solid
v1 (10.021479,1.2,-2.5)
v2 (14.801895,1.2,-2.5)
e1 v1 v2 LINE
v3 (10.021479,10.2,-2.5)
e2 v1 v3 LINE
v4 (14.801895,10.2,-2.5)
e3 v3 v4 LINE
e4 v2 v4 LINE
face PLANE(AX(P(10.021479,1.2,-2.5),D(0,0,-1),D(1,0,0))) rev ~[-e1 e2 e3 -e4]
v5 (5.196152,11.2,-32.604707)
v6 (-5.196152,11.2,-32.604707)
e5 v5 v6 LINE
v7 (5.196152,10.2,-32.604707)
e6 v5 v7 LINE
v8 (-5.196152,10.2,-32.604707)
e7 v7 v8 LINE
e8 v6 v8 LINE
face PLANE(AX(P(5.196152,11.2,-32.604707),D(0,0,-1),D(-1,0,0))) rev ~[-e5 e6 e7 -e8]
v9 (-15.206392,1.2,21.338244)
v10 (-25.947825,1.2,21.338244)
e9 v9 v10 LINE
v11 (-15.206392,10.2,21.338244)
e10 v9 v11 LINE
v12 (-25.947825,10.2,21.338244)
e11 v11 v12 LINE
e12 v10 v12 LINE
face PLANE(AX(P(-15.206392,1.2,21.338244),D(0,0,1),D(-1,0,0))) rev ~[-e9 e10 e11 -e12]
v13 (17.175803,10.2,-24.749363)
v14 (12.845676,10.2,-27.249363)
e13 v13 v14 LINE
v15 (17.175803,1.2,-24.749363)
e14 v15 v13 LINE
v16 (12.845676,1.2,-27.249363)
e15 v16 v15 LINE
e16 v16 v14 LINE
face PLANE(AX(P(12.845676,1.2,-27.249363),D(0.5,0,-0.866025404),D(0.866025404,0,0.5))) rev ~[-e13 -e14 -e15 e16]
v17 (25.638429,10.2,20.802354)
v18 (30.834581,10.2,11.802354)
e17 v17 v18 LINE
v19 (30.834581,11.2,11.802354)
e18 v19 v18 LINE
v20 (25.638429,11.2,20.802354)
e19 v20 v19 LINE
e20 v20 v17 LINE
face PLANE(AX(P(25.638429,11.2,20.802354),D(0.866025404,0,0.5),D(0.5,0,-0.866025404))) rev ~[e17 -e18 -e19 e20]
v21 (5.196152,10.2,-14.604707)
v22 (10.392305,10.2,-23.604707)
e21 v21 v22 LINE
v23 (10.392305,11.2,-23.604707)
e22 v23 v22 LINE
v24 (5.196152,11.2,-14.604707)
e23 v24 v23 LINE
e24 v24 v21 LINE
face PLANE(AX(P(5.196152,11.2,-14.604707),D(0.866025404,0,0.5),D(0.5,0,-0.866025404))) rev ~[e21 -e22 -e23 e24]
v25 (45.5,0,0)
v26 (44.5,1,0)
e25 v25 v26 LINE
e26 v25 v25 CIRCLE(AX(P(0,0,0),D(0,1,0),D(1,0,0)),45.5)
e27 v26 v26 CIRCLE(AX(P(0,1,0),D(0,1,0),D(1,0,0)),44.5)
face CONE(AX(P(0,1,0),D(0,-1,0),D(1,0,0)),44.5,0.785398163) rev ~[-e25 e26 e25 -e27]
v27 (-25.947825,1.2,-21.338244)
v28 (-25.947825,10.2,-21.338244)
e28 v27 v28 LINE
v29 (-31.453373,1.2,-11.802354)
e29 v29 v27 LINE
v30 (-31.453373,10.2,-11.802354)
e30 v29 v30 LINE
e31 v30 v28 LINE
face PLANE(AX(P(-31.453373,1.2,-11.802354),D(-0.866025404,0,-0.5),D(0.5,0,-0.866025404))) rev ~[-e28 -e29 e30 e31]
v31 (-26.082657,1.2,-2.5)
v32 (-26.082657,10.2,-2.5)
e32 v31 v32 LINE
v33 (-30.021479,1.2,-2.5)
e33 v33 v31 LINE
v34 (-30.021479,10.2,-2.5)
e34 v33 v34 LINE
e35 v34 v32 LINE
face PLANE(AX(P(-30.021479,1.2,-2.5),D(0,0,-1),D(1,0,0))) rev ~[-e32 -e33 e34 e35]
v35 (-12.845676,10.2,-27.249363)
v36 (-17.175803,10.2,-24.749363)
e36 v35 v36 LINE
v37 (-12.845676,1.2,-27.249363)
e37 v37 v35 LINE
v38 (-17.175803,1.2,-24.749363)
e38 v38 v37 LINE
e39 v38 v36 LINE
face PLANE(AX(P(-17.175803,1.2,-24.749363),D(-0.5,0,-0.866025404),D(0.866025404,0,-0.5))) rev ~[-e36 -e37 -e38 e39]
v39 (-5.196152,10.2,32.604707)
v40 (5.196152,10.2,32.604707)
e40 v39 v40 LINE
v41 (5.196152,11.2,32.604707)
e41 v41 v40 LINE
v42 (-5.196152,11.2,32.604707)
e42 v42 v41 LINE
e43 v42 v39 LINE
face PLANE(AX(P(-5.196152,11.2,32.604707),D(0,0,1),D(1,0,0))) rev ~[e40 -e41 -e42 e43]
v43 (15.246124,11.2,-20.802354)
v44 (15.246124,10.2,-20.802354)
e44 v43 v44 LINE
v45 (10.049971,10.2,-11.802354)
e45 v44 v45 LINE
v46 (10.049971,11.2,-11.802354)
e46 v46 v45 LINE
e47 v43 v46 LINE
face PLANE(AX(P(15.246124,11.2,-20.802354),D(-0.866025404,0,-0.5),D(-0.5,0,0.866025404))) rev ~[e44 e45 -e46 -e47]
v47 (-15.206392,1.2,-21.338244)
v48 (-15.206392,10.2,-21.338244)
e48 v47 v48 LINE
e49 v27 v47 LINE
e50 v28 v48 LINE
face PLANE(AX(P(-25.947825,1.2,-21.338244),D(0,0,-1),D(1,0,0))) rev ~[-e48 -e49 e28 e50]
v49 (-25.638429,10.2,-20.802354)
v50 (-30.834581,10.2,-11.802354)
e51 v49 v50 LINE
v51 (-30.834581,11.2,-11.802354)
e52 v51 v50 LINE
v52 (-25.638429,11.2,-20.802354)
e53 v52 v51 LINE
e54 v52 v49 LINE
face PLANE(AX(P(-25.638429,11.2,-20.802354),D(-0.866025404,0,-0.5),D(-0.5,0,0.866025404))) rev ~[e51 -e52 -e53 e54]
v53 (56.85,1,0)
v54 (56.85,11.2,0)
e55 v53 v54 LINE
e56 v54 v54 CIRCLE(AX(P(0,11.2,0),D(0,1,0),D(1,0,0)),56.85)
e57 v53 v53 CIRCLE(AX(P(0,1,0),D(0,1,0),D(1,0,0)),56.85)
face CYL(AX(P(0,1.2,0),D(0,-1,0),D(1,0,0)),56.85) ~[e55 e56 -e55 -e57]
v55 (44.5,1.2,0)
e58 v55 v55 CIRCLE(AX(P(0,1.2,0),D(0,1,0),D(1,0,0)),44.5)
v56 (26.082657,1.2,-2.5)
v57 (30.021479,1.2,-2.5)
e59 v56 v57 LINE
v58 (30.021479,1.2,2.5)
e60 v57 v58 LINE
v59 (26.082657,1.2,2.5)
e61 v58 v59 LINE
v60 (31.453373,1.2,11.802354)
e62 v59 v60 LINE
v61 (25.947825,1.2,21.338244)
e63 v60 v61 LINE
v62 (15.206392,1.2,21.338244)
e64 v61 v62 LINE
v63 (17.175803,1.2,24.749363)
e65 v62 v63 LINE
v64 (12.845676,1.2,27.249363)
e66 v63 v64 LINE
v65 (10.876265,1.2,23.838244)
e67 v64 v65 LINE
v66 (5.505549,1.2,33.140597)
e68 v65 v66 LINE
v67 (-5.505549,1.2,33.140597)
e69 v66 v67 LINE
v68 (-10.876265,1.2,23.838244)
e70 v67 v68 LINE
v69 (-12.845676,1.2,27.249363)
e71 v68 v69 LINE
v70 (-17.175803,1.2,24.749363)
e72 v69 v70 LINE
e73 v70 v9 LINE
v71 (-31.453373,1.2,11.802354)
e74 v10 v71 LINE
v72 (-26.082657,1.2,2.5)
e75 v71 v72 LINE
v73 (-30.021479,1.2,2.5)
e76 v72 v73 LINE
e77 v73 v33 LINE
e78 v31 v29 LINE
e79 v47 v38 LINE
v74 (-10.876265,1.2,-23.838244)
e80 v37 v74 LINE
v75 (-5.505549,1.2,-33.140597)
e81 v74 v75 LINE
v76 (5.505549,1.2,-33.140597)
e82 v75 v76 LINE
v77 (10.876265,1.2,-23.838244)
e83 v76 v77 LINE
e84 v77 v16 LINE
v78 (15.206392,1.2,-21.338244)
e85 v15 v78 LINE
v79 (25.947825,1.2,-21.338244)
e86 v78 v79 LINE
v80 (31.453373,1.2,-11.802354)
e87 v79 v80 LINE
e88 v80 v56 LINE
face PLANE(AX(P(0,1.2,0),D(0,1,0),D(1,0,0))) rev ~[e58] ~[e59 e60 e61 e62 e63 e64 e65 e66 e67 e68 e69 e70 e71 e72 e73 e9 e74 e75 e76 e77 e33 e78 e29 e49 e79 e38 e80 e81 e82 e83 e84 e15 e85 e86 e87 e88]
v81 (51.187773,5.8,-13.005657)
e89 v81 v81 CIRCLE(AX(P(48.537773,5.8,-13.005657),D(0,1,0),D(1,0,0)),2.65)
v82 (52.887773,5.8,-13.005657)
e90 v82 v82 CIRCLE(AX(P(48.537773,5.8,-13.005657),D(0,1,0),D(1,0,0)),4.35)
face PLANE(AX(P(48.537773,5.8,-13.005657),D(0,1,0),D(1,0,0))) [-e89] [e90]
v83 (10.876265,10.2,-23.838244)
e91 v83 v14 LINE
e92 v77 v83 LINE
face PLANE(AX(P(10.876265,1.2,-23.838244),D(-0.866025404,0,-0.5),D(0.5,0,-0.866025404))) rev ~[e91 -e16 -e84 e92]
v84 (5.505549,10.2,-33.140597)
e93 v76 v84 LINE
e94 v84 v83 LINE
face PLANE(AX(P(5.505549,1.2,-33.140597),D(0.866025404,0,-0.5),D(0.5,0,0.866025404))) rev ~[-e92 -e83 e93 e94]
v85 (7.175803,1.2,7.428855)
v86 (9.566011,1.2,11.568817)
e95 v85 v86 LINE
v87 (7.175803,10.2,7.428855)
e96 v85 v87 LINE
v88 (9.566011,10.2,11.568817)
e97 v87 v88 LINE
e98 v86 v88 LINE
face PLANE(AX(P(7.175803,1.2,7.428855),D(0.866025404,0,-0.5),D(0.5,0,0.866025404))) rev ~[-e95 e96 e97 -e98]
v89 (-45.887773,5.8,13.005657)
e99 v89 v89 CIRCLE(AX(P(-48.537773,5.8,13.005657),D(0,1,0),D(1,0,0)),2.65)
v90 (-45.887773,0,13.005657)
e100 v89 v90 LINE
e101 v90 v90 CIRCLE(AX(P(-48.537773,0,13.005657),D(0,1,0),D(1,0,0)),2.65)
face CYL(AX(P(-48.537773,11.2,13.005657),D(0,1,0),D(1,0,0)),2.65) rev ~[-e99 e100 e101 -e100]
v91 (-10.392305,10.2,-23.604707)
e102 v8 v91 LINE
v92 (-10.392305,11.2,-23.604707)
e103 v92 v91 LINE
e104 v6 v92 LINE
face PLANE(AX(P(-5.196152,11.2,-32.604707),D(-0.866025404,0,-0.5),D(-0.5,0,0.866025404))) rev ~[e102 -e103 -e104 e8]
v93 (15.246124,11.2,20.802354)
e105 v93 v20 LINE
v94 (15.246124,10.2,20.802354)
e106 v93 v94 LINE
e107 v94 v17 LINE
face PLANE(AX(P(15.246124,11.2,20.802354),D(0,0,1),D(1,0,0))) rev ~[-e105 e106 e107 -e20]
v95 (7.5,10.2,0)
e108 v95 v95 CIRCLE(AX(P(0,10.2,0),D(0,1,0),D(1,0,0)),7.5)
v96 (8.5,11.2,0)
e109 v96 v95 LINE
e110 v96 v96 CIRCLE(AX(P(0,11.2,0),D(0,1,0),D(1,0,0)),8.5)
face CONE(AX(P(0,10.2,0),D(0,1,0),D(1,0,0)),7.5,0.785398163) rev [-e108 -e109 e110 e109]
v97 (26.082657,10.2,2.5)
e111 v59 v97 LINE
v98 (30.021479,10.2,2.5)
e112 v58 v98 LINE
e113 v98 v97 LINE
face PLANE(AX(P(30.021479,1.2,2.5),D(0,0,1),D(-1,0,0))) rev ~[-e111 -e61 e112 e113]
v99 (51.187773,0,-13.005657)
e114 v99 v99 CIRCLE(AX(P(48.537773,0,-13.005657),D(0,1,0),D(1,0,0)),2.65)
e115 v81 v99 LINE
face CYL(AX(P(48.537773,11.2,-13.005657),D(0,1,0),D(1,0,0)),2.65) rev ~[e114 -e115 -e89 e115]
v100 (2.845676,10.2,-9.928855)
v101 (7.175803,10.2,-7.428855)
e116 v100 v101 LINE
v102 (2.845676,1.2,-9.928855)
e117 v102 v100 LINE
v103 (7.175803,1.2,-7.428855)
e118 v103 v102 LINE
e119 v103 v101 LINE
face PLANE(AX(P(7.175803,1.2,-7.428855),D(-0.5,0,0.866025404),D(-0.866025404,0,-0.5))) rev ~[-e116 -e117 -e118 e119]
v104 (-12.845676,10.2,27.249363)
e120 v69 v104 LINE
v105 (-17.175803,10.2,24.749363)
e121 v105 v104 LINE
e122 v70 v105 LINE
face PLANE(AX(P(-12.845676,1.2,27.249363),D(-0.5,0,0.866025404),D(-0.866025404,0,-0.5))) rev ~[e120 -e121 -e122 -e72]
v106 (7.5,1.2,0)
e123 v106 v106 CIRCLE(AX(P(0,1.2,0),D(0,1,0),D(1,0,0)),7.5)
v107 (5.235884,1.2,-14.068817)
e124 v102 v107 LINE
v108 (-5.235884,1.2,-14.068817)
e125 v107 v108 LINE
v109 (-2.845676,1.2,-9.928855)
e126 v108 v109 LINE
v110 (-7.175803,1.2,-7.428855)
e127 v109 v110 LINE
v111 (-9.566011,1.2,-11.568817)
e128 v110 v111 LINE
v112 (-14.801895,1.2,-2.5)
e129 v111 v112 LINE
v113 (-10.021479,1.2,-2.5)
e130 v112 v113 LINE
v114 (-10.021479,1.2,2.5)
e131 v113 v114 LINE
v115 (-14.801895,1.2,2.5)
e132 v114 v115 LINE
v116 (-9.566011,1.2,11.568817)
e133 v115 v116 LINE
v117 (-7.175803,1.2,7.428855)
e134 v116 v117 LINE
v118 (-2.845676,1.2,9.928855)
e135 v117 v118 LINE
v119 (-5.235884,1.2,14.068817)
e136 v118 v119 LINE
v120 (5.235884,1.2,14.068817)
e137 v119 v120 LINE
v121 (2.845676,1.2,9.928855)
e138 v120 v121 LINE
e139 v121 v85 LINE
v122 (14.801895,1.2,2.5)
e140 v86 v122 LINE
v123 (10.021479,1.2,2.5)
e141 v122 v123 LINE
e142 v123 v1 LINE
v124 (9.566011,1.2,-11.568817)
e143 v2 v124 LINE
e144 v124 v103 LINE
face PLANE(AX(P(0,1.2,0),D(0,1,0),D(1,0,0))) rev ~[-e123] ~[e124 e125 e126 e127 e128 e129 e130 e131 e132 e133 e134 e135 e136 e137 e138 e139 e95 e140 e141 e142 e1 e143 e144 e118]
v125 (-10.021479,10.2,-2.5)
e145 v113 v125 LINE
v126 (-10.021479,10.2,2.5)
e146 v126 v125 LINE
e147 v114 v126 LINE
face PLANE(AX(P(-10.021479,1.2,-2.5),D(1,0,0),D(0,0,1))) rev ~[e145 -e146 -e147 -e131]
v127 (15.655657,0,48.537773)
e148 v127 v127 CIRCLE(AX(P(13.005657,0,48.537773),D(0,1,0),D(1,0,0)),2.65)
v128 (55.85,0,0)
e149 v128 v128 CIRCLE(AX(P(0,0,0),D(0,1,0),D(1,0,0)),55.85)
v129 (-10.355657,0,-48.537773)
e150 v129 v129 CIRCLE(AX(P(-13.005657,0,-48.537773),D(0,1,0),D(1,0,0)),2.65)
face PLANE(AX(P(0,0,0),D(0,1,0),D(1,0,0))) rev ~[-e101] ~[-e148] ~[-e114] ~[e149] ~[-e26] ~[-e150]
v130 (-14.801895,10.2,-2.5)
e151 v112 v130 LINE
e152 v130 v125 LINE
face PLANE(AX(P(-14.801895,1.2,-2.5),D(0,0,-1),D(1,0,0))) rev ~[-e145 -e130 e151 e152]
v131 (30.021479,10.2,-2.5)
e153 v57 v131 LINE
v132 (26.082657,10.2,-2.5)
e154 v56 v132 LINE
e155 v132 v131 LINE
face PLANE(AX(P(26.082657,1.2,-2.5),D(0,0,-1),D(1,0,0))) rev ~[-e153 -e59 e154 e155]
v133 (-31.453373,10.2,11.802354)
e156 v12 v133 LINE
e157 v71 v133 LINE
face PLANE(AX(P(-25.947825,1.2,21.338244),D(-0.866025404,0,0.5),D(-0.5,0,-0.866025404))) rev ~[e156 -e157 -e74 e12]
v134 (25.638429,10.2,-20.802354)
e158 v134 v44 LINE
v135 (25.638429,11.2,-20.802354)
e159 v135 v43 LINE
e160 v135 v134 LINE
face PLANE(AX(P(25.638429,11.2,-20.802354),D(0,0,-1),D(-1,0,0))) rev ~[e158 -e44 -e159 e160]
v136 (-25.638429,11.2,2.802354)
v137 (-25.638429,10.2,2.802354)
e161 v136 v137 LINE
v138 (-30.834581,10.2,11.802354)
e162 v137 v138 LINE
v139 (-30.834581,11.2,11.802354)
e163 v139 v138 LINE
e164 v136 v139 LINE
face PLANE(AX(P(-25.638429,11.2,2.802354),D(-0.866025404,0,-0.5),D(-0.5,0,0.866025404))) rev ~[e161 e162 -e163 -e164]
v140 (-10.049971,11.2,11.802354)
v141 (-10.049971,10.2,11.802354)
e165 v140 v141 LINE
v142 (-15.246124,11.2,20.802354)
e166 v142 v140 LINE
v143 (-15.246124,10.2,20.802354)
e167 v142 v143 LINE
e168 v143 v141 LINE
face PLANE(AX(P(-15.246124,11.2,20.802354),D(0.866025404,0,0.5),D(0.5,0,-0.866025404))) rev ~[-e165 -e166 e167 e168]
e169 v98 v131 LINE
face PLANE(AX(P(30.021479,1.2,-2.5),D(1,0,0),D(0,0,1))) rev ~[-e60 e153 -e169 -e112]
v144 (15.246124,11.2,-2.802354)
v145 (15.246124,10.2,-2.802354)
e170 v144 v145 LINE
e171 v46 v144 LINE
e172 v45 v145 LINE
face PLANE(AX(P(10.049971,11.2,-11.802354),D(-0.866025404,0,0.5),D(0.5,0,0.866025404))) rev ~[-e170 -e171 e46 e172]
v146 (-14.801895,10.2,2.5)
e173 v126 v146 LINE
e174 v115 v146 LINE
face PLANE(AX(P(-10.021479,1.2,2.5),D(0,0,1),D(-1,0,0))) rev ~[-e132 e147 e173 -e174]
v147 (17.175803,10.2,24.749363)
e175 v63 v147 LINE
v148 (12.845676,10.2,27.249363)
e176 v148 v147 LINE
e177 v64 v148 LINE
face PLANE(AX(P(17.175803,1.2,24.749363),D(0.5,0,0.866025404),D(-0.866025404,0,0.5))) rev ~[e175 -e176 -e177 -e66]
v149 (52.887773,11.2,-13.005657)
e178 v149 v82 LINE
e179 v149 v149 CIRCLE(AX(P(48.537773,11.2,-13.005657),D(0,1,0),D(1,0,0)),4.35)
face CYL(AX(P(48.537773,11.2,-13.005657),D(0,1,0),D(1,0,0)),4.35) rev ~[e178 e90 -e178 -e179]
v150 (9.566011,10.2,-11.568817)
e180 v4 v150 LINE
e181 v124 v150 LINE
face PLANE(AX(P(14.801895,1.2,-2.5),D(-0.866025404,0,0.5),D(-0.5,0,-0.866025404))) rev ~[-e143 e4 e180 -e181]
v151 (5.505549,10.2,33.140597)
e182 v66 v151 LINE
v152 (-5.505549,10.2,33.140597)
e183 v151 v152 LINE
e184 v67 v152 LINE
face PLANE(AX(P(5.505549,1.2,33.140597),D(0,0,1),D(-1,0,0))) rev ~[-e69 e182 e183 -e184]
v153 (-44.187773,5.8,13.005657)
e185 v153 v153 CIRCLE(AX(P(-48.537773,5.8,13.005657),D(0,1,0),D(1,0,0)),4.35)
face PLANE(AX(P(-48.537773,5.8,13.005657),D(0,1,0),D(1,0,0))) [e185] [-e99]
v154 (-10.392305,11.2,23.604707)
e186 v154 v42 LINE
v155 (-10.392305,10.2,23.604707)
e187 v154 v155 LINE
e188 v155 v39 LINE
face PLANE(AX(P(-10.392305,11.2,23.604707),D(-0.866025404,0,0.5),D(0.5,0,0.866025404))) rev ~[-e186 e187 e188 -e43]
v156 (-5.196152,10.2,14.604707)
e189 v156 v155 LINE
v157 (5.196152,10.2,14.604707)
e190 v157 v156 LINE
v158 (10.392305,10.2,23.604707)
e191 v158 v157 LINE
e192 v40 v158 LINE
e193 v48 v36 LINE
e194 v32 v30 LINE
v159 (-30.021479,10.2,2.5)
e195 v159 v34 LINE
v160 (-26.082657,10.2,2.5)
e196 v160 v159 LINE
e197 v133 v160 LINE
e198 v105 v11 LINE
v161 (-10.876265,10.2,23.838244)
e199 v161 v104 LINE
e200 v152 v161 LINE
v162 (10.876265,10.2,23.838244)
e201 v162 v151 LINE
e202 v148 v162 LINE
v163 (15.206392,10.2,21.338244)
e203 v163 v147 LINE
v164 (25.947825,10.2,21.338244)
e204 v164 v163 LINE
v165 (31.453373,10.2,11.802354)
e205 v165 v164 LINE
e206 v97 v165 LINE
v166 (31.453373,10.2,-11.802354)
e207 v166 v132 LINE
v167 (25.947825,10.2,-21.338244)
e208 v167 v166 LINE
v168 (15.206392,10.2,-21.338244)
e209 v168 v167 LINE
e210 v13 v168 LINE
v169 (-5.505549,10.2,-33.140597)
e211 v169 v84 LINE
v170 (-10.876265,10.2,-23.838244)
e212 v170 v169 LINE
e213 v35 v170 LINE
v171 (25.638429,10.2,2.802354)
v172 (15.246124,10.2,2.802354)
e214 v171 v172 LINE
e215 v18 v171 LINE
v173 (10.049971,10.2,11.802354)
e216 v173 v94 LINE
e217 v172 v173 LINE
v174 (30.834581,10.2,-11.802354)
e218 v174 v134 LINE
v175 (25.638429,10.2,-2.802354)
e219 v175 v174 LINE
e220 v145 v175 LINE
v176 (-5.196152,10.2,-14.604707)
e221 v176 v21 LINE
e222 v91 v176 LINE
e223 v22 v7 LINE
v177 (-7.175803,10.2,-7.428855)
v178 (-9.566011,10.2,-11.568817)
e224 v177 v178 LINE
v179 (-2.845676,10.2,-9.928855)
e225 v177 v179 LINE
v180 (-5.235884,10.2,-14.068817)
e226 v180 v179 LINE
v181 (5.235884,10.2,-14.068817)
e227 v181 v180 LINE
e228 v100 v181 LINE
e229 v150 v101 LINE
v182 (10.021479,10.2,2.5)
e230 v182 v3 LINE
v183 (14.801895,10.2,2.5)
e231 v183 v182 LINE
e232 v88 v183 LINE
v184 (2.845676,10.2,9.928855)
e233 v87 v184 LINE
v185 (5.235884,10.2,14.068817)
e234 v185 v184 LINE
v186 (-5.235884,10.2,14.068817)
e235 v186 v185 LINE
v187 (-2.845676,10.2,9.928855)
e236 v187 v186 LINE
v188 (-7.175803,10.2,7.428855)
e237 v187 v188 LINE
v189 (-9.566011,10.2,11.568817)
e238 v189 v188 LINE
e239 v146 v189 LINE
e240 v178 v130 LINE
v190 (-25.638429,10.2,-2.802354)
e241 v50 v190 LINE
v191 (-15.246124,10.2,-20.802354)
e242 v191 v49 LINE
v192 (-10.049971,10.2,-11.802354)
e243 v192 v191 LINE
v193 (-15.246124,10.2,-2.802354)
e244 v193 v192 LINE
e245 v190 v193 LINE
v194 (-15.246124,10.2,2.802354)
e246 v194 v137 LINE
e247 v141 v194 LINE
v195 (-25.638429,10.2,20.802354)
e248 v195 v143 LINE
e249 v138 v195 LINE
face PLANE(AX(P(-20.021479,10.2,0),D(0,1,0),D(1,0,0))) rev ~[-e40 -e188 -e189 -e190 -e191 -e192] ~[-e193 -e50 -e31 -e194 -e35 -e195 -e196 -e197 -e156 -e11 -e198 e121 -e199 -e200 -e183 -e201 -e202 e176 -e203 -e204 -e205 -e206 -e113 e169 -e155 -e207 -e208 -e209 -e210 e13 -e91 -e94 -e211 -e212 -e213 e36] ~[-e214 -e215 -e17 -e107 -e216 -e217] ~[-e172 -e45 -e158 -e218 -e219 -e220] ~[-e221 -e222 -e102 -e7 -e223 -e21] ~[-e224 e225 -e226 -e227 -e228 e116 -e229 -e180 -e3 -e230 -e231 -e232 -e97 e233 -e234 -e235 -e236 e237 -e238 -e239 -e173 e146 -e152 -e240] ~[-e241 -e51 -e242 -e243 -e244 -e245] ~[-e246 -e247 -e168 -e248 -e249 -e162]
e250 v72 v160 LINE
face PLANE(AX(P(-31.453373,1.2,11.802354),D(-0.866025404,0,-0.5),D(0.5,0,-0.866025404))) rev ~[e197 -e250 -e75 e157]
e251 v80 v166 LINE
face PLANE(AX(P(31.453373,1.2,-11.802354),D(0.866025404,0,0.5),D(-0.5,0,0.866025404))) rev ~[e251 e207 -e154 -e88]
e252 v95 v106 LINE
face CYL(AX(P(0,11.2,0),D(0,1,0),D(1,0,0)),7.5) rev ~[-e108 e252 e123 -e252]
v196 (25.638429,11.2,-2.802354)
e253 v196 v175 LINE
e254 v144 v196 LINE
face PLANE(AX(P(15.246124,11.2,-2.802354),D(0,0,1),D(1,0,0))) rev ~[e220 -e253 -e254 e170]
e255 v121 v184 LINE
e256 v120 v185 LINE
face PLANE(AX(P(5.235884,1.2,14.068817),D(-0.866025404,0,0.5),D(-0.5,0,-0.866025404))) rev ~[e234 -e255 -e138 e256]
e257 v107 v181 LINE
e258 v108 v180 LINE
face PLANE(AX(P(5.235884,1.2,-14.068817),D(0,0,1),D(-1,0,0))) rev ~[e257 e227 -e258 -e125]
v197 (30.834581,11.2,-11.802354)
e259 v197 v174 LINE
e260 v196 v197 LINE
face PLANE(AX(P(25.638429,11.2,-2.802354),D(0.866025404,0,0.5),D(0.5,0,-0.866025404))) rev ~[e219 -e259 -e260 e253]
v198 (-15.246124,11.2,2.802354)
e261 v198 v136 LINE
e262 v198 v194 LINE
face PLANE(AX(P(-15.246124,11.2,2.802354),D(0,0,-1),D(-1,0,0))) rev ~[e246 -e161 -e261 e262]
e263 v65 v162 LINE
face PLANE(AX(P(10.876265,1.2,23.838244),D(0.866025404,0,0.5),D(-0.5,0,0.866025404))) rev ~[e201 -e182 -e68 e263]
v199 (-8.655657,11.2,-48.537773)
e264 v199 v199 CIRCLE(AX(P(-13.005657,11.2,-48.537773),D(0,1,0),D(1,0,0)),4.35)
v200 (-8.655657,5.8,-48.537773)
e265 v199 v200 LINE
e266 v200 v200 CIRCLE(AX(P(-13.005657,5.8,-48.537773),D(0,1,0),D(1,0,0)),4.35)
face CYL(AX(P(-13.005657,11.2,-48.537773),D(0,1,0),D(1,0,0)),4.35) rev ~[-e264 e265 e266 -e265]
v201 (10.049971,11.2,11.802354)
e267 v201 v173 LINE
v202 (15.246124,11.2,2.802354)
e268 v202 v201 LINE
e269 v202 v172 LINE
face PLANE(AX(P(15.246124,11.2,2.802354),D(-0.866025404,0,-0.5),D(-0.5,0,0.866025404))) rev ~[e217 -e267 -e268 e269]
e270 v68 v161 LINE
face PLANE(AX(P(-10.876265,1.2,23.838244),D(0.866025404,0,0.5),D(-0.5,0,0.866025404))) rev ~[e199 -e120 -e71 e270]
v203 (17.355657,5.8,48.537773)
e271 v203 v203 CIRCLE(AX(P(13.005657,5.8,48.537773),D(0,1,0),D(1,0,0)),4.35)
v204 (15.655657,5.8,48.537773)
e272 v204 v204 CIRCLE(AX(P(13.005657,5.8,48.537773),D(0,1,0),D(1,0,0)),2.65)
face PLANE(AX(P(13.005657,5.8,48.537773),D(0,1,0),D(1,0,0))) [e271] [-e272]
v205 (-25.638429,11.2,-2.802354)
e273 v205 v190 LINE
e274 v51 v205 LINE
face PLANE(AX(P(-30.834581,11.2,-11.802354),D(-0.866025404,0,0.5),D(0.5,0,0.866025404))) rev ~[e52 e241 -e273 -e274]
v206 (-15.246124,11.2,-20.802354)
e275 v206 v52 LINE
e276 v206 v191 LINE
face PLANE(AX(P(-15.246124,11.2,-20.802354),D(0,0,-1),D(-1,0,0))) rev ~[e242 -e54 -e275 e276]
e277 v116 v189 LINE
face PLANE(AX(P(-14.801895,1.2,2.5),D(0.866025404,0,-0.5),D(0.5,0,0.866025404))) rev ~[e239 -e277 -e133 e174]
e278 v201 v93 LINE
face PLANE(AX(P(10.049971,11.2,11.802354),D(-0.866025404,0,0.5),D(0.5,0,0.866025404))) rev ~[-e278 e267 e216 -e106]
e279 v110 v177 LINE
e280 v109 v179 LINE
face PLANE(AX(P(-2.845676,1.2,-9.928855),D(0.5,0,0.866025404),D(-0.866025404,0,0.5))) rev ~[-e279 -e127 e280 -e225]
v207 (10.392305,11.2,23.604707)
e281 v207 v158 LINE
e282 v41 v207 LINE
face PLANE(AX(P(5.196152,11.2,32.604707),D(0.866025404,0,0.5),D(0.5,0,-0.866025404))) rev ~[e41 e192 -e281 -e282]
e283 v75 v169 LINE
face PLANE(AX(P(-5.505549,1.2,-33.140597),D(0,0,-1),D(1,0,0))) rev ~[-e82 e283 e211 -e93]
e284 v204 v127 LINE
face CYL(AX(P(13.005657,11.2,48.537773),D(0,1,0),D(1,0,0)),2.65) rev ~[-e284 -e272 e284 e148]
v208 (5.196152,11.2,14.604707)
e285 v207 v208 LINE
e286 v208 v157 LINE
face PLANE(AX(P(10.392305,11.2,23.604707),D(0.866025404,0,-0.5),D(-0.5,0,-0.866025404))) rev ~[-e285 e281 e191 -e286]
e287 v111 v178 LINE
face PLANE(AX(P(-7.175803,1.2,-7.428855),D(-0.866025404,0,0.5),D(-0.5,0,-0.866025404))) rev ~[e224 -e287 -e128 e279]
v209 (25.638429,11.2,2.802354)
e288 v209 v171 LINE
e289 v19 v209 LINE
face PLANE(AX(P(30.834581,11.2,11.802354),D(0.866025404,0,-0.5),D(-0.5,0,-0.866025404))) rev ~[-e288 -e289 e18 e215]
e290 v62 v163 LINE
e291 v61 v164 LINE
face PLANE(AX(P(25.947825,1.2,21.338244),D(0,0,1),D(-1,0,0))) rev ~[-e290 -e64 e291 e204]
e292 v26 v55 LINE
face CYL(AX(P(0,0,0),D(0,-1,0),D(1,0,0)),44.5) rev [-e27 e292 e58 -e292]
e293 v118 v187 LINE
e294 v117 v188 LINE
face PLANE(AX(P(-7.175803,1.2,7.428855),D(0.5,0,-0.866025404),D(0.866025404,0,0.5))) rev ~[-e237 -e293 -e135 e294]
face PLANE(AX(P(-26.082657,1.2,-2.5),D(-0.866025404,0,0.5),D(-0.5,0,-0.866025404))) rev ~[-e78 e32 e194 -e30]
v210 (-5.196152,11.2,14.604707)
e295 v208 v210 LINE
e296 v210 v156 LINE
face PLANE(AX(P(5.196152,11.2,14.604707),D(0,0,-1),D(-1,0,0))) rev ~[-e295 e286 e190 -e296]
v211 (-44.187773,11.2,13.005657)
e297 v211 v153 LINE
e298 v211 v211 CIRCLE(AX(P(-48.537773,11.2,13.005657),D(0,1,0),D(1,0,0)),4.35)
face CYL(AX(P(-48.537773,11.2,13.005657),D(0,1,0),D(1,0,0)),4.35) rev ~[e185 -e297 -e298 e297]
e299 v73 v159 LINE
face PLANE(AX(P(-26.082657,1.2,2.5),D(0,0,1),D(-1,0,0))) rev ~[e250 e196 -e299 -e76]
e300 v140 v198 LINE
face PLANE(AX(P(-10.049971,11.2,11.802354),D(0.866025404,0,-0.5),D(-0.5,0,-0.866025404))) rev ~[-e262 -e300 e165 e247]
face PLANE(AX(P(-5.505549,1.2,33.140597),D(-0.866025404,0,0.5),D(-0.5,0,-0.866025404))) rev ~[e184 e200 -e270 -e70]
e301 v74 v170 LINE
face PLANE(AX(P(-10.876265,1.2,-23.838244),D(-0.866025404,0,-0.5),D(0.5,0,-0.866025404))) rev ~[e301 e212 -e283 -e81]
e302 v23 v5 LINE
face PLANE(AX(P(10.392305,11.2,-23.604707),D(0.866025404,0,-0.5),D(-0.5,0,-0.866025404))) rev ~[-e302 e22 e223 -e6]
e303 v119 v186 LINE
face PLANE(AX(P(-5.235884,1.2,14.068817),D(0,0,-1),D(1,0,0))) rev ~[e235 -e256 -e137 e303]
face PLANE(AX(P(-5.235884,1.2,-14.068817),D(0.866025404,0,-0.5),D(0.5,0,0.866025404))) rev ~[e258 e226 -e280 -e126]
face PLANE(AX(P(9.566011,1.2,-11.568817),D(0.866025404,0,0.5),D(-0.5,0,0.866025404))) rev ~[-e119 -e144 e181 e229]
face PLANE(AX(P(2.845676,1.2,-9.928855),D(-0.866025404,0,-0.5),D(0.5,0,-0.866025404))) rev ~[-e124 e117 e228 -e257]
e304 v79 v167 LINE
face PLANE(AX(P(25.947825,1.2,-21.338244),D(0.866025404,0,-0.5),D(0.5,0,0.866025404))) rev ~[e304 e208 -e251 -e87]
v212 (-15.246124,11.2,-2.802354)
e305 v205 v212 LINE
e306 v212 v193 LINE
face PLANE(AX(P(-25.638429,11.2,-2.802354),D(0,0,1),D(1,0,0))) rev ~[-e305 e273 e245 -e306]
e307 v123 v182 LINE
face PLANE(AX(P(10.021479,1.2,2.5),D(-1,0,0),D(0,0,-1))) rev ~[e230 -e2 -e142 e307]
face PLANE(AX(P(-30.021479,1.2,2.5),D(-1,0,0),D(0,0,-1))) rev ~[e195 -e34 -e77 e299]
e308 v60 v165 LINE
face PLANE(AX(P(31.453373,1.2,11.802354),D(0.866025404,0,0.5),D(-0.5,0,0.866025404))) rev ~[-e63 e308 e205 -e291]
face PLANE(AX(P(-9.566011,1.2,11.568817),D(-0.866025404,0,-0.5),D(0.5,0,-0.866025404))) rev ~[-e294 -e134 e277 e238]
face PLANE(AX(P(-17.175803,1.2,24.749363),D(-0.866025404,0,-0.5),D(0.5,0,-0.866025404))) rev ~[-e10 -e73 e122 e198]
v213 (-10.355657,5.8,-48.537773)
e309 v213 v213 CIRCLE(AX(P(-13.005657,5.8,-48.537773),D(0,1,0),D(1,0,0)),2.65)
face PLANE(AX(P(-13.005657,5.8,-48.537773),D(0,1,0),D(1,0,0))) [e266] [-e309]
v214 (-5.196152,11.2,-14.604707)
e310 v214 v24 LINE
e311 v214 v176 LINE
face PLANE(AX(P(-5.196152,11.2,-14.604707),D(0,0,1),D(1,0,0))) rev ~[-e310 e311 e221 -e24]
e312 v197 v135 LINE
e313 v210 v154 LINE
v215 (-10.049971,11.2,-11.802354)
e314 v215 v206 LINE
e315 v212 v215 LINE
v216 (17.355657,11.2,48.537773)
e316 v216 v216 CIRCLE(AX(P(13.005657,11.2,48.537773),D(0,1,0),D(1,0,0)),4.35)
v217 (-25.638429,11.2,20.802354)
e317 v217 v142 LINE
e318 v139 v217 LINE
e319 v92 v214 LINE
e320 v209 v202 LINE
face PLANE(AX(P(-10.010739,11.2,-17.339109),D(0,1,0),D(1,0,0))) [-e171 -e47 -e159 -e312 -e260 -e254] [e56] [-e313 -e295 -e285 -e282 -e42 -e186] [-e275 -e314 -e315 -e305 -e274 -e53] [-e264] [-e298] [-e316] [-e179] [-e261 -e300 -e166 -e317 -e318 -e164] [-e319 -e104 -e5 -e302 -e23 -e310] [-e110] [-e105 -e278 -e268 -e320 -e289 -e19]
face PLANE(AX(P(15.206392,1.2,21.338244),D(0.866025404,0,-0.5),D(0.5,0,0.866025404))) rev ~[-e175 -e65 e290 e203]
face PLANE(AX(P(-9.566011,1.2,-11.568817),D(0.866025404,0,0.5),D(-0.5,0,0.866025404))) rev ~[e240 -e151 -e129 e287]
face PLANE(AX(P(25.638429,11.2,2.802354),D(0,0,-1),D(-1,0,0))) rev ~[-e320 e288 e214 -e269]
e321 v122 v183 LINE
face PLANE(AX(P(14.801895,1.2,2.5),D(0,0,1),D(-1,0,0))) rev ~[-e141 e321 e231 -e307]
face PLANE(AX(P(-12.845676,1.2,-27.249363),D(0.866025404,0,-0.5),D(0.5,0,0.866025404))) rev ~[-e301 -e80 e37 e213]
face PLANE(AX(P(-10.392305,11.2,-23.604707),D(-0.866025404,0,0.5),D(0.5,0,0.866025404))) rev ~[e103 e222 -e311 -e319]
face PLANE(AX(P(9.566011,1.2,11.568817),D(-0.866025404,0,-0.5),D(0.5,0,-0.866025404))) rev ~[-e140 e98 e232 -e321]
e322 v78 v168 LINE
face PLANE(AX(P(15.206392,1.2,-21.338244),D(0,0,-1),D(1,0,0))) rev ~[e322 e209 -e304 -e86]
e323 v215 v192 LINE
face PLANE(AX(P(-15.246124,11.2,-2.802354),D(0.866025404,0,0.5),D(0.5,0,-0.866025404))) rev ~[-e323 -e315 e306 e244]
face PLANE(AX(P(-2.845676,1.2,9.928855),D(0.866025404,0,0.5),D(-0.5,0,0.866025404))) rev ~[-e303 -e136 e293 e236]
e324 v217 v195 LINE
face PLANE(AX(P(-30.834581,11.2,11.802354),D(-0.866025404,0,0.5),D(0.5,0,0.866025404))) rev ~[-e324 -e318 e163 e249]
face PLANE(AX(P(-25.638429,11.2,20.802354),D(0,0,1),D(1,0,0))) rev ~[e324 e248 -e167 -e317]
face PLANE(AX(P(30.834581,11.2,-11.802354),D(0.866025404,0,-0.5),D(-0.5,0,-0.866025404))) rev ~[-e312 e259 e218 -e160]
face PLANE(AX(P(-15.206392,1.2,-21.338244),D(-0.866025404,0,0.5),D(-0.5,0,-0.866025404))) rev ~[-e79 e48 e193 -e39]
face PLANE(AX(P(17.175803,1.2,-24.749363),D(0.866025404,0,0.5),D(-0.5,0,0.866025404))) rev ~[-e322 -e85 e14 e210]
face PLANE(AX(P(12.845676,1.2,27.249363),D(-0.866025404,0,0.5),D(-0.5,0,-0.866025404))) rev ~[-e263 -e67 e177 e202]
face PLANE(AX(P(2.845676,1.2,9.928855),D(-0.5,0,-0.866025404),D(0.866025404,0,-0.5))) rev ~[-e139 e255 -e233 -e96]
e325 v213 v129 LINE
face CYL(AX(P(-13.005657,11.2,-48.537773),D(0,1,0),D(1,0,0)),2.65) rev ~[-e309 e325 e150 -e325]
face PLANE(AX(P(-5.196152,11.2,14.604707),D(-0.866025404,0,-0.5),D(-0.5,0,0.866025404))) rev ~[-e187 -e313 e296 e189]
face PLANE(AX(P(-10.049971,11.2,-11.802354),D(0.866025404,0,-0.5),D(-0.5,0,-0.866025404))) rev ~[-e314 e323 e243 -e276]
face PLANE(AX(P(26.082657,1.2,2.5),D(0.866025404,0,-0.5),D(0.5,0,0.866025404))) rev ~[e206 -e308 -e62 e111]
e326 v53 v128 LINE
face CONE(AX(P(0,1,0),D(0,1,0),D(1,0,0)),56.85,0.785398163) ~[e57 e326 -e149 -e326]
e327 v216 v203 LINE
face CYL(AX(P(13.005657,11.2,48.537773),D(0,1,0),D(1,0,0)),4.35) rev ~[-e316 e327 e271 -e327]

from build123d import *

# Parameters (mm, degrees)
SKETCH2_R           = 56.85
SKETCH2_R_2         = 44.5
BOSS_EXTRUDE1_DEPTH = 1.2
SKETCH3_R           = 56.85
BOSS_EXTRUDE2_DEPTH = 10
SKETCH4_R           = 2.65
CUT_EXTRUDE1_DEPTH  = 12.2
SKETCH5_R           = 7.5
CUT_EXTRUDE2_DEPTH  = 12.2
CUT_EXTRUDE4_DEPTH  = 11
SKETCH7_W           = 20
SKETCH7_H           = 5
BOSS_EXTRUDE3_DEPTH = 1
BOSS_EXTRUDE4_DEPTH = 1
CIRPATTERN1_COUNT   = 6
SKETCH9_R           = 4.35
CUT_EXTRUDE5_DEPTH  = 5.4
CHAMFER1_SIZE       = 1
CHAMFER2_SIZE       = 1


with BuildPart() as part:
    # Sketch2 → Boss-Extrude1 (new body)
    with BuildSketch(Plane(origin=(0, 0, 0), x_dir=(1, 0, 0), z_dir=(0, 1, 0))):
        Circle(SKETCH2_R)
        Circle(SKETCH2_R_2, mode=Mode.SUBTRACT)
    extrude(amount=BOSS_EXTRUDE1_DEPTH)

    # Sketch3 → Boss-Extrude2 (add)
    with BuildSketch(Plane(origin=(0, 1.2, 0), x_dir=(1, 0, 0), z_dir=(0, 1, 0))):
        Circle(SKETCH3_R)
    extrude(amount=BOSS_EXTRUDE2_DEPTH)

    # Sketch4 → Cut-Extrude1 (cut, through all)
    with BuildSketch(Plane(origin=(0, 11.2, 0), x_dir=(1, 0, 0), z_dir=(0, 1, 0))):
        with Locations((-13.005657016, 48.537772771)):
            Circle(SKETCH4_R)
        with Locations((48.537772771, 13.005657016)):
            Circle(SKETCH4_R)
        with Locations((13.005657016, -48.537772771)):
            Circle(SKETCH4_R)
        with Locations((-48.537772771, -13.005657016)):
            Circle(SKETCH4_R)
    extrude(amount=-CUT_EXTRUDE1_DEPTH, mode=Mode.SUBTRACT)

    # Sketch5 → Cut-Extrude2 (cut, through all)
    with BuildSketch(Plane(origin=(0, 11.2, 0), x_dir=(1, 0, 0), z_dir=(0, 1, 0))):
        Circle(SKETCH5_R)
    extrude(amount=-CUT_EXTRUDE2_DEPTH, mode=Mode.SUBTRACT)

    # Sketch6 → Cut-Extrude4 (cut, through all)
    with BuildSketch(Plane.XZ.offset(-1.2)):
        Polygon((12.845675931, 27.249363369), (10.876265015, 23.838243602), (5.505548638, 33.14059724), (-5.505548638, 33.14059724), (-10.876265015, 23.838243603), (-12.845675931, 27.249363369), (-17.175802949, 24.749363369), (-15.206392034, 21.338243603), (-25.947824787, 21.338243603), (-31.453373426, 11.802353637), (-26.082657049, 2.5), (-30.02147888, 2.5), (-30.02147888, -2.5), (-26.082657049, -2.5), (-31.453373426, -11.802353638), (-25.947824787, -21.338243603), (-15.206392034, -21.338243603), (-17.175802949, -24.749363369), (-12.845675931, -27.249363369), (-10.876265015, -23.838243603), (-5.505548638, -33.14059724), (5.505548638, -33.14059724), (10.876265015, -23.838243603), (12.845675931, -27.249363369), (17.175802949, -24.749363369), (15.206392034, -21.338243603), (25.947824787, -21.338243603), (31.453373426, -11.802353638), (26.082657049, -2.5), (30.02147888, -2.5), (30.02147888, 2.5), (26.082657049, 2.5), (31.453373426, 11.802353637), (25.947824787, 21.338243602), (15.206392034, 21.338243602), (17.175802949, 24.749363369), align=None)
        Polygon((-2.845675931, 9.928855294), (-5.235884115, 14.06881731), (5.235884115, 14.06881731), (2.845675931, 9.928855294), (7.175802949, 7.428855294), (9.566011134, 11.56881731), (14.801895249, 2.5), (10.02147888, 2.5), (10.02147888, -2.5), (14.801895249, -2.5), (9.566011134, -11.56881731), (7.175802949, -7.428855294), (2.845675931, -9.928855294), (5.235884115, -14.06881731), (-5.235884115, -14.06881731), (-2.845675931, -9.928855294), (-7.175802949, -7.428855294), (-9.566011134, -11.56881731), (-14.801895249, -2.5), (-10.02147888, -2.5), (-10.02147888, 2.5), (-14.801895249, 2.5), (-9.566011134, 11.56881731), (-7.175802949, 7.428855294), align=None, mode=Mode.SUBTRACT)
    extrude(amount=-CUT_EXTRUDE4_DEPTH, mode=Mode.SUBTRACT)

    # Sketch7 → Boss-Extrude3 (add)
    with BuildSketch(Plane(origin=(0, 11.2, 0), x_dir=(1, 0, 0), z_dir=(0, 1, 0))):
        Polygon((-17.175802949, 24.749363369), (-7.175802949, 7.428855294), (-2.845675931, 9.928855294), (-12.845675931, 27.249363369), align=None)
        Polygon((17.175802949, 24.749363369), (12.845675931, 27.249363369), (2.845675931, 9.928855294), (7.175802949, 7.428855294), align=None)
        with Locations((20.02147888, 0)):
            Rectangle(SKETCH7_W, SKETCH7_H)
        Polygon((12.845675931, -27.249363369), (17.175802949, -24.749363369), (7.175802949, -7.428855294), (2.845675931, -9.928855294), align=None)
        Polygon((-17.175802949, -24.749363369), (-12.845675931, -27.249363369), (-2.845675931, -9.928855294), (-7.175802949, -7.428855294), align=None)
        with Locations((-20.02147888, 0)):
            Rectangle(SKETCH7_W, SKETCH7_H)
    extrude(amount=-BOSS_EXTRUDE3_DEPTH)

    # Sketch8 → Boss-Extrude4 (add)
    with BuildSketch(Plane(origin=(0, 11.2, 0), x_dir=(1, 0, 0), z_dir=(0, 1, 0))):
        Polygon((5.542562584, -14.00470728), (-5.542562584, -14.00470728), (-11.085125168, -23.60470728), (-5.542562584, -33.20470728), (5.542562584, -33.20470728), (11.085125168, -23.60470728), align=None)
        Polygon((5.196152423, -14.60470728), (-5.196152423, -14.60470728), (-10.392304845, -23.60470728), (-5.196152423, -32.60470728), (5.196152423, -32.60470728), (10.392304845, -23.60470728), align=None, mode=Mode.SUBTRACT)
    boss_extrude4 = extrude(amount=-BOSS_EXTRUDE4_DEPTH)

    # CirPattern1: Boss-Extrude4 ×6 about axis
    cirpattern1_axis = Axis((0, 0, 0), (0, 1, 0))
    for i in range(1, CIRPATTERN1_COUNT):
        add(boss_extrude4.rotate(cirpattern1_axis, i * 360 / CIRPATTERN1_COUNT))

    # Sketch9 → Cut-Extrude5 (cut)
    with BuildSketch(Plane(origin=(0, 11.2, 0), x_dir=(1, 0, 0), z_dir=(0, 1, 0))):
        with Locations((-13.005657016, 48.537772771)):
            Circle(SKETCH9_R)
        with Locations((48.537772771, 13.005657016)):
            Circle(SKETCH9_R)
        with Locations((13.005657016, -48.537772771)):
            Circle(SKETCH9_R)
        with Locations((-48.537772771, -13.005657016)):
            Circle(SKETCH9_R)
    extrude(amount=-CUT_EXTRUDE5_DEPTH, mode=Mode.SUBTRACT)

    # Chamfer1
    chamfer1_edges = [part.edges().sort_by_distance(p)[0] for p in [
        (-44.5, 0, 0),
        (-56.85, 0, 0),
    ]]
    chamfer(chamfer1_edges, length=CHAMFER1_SIZE)

    # Chamfer2
    chamfer2_edges = [part.edges().sort_by_distance(p)[0] for p in [
        (-7.5, 11.2, 0),
    ]]
    chamfer(chamfer2_edges, length=CHAMFER2_SIZE)


solid = part.part
